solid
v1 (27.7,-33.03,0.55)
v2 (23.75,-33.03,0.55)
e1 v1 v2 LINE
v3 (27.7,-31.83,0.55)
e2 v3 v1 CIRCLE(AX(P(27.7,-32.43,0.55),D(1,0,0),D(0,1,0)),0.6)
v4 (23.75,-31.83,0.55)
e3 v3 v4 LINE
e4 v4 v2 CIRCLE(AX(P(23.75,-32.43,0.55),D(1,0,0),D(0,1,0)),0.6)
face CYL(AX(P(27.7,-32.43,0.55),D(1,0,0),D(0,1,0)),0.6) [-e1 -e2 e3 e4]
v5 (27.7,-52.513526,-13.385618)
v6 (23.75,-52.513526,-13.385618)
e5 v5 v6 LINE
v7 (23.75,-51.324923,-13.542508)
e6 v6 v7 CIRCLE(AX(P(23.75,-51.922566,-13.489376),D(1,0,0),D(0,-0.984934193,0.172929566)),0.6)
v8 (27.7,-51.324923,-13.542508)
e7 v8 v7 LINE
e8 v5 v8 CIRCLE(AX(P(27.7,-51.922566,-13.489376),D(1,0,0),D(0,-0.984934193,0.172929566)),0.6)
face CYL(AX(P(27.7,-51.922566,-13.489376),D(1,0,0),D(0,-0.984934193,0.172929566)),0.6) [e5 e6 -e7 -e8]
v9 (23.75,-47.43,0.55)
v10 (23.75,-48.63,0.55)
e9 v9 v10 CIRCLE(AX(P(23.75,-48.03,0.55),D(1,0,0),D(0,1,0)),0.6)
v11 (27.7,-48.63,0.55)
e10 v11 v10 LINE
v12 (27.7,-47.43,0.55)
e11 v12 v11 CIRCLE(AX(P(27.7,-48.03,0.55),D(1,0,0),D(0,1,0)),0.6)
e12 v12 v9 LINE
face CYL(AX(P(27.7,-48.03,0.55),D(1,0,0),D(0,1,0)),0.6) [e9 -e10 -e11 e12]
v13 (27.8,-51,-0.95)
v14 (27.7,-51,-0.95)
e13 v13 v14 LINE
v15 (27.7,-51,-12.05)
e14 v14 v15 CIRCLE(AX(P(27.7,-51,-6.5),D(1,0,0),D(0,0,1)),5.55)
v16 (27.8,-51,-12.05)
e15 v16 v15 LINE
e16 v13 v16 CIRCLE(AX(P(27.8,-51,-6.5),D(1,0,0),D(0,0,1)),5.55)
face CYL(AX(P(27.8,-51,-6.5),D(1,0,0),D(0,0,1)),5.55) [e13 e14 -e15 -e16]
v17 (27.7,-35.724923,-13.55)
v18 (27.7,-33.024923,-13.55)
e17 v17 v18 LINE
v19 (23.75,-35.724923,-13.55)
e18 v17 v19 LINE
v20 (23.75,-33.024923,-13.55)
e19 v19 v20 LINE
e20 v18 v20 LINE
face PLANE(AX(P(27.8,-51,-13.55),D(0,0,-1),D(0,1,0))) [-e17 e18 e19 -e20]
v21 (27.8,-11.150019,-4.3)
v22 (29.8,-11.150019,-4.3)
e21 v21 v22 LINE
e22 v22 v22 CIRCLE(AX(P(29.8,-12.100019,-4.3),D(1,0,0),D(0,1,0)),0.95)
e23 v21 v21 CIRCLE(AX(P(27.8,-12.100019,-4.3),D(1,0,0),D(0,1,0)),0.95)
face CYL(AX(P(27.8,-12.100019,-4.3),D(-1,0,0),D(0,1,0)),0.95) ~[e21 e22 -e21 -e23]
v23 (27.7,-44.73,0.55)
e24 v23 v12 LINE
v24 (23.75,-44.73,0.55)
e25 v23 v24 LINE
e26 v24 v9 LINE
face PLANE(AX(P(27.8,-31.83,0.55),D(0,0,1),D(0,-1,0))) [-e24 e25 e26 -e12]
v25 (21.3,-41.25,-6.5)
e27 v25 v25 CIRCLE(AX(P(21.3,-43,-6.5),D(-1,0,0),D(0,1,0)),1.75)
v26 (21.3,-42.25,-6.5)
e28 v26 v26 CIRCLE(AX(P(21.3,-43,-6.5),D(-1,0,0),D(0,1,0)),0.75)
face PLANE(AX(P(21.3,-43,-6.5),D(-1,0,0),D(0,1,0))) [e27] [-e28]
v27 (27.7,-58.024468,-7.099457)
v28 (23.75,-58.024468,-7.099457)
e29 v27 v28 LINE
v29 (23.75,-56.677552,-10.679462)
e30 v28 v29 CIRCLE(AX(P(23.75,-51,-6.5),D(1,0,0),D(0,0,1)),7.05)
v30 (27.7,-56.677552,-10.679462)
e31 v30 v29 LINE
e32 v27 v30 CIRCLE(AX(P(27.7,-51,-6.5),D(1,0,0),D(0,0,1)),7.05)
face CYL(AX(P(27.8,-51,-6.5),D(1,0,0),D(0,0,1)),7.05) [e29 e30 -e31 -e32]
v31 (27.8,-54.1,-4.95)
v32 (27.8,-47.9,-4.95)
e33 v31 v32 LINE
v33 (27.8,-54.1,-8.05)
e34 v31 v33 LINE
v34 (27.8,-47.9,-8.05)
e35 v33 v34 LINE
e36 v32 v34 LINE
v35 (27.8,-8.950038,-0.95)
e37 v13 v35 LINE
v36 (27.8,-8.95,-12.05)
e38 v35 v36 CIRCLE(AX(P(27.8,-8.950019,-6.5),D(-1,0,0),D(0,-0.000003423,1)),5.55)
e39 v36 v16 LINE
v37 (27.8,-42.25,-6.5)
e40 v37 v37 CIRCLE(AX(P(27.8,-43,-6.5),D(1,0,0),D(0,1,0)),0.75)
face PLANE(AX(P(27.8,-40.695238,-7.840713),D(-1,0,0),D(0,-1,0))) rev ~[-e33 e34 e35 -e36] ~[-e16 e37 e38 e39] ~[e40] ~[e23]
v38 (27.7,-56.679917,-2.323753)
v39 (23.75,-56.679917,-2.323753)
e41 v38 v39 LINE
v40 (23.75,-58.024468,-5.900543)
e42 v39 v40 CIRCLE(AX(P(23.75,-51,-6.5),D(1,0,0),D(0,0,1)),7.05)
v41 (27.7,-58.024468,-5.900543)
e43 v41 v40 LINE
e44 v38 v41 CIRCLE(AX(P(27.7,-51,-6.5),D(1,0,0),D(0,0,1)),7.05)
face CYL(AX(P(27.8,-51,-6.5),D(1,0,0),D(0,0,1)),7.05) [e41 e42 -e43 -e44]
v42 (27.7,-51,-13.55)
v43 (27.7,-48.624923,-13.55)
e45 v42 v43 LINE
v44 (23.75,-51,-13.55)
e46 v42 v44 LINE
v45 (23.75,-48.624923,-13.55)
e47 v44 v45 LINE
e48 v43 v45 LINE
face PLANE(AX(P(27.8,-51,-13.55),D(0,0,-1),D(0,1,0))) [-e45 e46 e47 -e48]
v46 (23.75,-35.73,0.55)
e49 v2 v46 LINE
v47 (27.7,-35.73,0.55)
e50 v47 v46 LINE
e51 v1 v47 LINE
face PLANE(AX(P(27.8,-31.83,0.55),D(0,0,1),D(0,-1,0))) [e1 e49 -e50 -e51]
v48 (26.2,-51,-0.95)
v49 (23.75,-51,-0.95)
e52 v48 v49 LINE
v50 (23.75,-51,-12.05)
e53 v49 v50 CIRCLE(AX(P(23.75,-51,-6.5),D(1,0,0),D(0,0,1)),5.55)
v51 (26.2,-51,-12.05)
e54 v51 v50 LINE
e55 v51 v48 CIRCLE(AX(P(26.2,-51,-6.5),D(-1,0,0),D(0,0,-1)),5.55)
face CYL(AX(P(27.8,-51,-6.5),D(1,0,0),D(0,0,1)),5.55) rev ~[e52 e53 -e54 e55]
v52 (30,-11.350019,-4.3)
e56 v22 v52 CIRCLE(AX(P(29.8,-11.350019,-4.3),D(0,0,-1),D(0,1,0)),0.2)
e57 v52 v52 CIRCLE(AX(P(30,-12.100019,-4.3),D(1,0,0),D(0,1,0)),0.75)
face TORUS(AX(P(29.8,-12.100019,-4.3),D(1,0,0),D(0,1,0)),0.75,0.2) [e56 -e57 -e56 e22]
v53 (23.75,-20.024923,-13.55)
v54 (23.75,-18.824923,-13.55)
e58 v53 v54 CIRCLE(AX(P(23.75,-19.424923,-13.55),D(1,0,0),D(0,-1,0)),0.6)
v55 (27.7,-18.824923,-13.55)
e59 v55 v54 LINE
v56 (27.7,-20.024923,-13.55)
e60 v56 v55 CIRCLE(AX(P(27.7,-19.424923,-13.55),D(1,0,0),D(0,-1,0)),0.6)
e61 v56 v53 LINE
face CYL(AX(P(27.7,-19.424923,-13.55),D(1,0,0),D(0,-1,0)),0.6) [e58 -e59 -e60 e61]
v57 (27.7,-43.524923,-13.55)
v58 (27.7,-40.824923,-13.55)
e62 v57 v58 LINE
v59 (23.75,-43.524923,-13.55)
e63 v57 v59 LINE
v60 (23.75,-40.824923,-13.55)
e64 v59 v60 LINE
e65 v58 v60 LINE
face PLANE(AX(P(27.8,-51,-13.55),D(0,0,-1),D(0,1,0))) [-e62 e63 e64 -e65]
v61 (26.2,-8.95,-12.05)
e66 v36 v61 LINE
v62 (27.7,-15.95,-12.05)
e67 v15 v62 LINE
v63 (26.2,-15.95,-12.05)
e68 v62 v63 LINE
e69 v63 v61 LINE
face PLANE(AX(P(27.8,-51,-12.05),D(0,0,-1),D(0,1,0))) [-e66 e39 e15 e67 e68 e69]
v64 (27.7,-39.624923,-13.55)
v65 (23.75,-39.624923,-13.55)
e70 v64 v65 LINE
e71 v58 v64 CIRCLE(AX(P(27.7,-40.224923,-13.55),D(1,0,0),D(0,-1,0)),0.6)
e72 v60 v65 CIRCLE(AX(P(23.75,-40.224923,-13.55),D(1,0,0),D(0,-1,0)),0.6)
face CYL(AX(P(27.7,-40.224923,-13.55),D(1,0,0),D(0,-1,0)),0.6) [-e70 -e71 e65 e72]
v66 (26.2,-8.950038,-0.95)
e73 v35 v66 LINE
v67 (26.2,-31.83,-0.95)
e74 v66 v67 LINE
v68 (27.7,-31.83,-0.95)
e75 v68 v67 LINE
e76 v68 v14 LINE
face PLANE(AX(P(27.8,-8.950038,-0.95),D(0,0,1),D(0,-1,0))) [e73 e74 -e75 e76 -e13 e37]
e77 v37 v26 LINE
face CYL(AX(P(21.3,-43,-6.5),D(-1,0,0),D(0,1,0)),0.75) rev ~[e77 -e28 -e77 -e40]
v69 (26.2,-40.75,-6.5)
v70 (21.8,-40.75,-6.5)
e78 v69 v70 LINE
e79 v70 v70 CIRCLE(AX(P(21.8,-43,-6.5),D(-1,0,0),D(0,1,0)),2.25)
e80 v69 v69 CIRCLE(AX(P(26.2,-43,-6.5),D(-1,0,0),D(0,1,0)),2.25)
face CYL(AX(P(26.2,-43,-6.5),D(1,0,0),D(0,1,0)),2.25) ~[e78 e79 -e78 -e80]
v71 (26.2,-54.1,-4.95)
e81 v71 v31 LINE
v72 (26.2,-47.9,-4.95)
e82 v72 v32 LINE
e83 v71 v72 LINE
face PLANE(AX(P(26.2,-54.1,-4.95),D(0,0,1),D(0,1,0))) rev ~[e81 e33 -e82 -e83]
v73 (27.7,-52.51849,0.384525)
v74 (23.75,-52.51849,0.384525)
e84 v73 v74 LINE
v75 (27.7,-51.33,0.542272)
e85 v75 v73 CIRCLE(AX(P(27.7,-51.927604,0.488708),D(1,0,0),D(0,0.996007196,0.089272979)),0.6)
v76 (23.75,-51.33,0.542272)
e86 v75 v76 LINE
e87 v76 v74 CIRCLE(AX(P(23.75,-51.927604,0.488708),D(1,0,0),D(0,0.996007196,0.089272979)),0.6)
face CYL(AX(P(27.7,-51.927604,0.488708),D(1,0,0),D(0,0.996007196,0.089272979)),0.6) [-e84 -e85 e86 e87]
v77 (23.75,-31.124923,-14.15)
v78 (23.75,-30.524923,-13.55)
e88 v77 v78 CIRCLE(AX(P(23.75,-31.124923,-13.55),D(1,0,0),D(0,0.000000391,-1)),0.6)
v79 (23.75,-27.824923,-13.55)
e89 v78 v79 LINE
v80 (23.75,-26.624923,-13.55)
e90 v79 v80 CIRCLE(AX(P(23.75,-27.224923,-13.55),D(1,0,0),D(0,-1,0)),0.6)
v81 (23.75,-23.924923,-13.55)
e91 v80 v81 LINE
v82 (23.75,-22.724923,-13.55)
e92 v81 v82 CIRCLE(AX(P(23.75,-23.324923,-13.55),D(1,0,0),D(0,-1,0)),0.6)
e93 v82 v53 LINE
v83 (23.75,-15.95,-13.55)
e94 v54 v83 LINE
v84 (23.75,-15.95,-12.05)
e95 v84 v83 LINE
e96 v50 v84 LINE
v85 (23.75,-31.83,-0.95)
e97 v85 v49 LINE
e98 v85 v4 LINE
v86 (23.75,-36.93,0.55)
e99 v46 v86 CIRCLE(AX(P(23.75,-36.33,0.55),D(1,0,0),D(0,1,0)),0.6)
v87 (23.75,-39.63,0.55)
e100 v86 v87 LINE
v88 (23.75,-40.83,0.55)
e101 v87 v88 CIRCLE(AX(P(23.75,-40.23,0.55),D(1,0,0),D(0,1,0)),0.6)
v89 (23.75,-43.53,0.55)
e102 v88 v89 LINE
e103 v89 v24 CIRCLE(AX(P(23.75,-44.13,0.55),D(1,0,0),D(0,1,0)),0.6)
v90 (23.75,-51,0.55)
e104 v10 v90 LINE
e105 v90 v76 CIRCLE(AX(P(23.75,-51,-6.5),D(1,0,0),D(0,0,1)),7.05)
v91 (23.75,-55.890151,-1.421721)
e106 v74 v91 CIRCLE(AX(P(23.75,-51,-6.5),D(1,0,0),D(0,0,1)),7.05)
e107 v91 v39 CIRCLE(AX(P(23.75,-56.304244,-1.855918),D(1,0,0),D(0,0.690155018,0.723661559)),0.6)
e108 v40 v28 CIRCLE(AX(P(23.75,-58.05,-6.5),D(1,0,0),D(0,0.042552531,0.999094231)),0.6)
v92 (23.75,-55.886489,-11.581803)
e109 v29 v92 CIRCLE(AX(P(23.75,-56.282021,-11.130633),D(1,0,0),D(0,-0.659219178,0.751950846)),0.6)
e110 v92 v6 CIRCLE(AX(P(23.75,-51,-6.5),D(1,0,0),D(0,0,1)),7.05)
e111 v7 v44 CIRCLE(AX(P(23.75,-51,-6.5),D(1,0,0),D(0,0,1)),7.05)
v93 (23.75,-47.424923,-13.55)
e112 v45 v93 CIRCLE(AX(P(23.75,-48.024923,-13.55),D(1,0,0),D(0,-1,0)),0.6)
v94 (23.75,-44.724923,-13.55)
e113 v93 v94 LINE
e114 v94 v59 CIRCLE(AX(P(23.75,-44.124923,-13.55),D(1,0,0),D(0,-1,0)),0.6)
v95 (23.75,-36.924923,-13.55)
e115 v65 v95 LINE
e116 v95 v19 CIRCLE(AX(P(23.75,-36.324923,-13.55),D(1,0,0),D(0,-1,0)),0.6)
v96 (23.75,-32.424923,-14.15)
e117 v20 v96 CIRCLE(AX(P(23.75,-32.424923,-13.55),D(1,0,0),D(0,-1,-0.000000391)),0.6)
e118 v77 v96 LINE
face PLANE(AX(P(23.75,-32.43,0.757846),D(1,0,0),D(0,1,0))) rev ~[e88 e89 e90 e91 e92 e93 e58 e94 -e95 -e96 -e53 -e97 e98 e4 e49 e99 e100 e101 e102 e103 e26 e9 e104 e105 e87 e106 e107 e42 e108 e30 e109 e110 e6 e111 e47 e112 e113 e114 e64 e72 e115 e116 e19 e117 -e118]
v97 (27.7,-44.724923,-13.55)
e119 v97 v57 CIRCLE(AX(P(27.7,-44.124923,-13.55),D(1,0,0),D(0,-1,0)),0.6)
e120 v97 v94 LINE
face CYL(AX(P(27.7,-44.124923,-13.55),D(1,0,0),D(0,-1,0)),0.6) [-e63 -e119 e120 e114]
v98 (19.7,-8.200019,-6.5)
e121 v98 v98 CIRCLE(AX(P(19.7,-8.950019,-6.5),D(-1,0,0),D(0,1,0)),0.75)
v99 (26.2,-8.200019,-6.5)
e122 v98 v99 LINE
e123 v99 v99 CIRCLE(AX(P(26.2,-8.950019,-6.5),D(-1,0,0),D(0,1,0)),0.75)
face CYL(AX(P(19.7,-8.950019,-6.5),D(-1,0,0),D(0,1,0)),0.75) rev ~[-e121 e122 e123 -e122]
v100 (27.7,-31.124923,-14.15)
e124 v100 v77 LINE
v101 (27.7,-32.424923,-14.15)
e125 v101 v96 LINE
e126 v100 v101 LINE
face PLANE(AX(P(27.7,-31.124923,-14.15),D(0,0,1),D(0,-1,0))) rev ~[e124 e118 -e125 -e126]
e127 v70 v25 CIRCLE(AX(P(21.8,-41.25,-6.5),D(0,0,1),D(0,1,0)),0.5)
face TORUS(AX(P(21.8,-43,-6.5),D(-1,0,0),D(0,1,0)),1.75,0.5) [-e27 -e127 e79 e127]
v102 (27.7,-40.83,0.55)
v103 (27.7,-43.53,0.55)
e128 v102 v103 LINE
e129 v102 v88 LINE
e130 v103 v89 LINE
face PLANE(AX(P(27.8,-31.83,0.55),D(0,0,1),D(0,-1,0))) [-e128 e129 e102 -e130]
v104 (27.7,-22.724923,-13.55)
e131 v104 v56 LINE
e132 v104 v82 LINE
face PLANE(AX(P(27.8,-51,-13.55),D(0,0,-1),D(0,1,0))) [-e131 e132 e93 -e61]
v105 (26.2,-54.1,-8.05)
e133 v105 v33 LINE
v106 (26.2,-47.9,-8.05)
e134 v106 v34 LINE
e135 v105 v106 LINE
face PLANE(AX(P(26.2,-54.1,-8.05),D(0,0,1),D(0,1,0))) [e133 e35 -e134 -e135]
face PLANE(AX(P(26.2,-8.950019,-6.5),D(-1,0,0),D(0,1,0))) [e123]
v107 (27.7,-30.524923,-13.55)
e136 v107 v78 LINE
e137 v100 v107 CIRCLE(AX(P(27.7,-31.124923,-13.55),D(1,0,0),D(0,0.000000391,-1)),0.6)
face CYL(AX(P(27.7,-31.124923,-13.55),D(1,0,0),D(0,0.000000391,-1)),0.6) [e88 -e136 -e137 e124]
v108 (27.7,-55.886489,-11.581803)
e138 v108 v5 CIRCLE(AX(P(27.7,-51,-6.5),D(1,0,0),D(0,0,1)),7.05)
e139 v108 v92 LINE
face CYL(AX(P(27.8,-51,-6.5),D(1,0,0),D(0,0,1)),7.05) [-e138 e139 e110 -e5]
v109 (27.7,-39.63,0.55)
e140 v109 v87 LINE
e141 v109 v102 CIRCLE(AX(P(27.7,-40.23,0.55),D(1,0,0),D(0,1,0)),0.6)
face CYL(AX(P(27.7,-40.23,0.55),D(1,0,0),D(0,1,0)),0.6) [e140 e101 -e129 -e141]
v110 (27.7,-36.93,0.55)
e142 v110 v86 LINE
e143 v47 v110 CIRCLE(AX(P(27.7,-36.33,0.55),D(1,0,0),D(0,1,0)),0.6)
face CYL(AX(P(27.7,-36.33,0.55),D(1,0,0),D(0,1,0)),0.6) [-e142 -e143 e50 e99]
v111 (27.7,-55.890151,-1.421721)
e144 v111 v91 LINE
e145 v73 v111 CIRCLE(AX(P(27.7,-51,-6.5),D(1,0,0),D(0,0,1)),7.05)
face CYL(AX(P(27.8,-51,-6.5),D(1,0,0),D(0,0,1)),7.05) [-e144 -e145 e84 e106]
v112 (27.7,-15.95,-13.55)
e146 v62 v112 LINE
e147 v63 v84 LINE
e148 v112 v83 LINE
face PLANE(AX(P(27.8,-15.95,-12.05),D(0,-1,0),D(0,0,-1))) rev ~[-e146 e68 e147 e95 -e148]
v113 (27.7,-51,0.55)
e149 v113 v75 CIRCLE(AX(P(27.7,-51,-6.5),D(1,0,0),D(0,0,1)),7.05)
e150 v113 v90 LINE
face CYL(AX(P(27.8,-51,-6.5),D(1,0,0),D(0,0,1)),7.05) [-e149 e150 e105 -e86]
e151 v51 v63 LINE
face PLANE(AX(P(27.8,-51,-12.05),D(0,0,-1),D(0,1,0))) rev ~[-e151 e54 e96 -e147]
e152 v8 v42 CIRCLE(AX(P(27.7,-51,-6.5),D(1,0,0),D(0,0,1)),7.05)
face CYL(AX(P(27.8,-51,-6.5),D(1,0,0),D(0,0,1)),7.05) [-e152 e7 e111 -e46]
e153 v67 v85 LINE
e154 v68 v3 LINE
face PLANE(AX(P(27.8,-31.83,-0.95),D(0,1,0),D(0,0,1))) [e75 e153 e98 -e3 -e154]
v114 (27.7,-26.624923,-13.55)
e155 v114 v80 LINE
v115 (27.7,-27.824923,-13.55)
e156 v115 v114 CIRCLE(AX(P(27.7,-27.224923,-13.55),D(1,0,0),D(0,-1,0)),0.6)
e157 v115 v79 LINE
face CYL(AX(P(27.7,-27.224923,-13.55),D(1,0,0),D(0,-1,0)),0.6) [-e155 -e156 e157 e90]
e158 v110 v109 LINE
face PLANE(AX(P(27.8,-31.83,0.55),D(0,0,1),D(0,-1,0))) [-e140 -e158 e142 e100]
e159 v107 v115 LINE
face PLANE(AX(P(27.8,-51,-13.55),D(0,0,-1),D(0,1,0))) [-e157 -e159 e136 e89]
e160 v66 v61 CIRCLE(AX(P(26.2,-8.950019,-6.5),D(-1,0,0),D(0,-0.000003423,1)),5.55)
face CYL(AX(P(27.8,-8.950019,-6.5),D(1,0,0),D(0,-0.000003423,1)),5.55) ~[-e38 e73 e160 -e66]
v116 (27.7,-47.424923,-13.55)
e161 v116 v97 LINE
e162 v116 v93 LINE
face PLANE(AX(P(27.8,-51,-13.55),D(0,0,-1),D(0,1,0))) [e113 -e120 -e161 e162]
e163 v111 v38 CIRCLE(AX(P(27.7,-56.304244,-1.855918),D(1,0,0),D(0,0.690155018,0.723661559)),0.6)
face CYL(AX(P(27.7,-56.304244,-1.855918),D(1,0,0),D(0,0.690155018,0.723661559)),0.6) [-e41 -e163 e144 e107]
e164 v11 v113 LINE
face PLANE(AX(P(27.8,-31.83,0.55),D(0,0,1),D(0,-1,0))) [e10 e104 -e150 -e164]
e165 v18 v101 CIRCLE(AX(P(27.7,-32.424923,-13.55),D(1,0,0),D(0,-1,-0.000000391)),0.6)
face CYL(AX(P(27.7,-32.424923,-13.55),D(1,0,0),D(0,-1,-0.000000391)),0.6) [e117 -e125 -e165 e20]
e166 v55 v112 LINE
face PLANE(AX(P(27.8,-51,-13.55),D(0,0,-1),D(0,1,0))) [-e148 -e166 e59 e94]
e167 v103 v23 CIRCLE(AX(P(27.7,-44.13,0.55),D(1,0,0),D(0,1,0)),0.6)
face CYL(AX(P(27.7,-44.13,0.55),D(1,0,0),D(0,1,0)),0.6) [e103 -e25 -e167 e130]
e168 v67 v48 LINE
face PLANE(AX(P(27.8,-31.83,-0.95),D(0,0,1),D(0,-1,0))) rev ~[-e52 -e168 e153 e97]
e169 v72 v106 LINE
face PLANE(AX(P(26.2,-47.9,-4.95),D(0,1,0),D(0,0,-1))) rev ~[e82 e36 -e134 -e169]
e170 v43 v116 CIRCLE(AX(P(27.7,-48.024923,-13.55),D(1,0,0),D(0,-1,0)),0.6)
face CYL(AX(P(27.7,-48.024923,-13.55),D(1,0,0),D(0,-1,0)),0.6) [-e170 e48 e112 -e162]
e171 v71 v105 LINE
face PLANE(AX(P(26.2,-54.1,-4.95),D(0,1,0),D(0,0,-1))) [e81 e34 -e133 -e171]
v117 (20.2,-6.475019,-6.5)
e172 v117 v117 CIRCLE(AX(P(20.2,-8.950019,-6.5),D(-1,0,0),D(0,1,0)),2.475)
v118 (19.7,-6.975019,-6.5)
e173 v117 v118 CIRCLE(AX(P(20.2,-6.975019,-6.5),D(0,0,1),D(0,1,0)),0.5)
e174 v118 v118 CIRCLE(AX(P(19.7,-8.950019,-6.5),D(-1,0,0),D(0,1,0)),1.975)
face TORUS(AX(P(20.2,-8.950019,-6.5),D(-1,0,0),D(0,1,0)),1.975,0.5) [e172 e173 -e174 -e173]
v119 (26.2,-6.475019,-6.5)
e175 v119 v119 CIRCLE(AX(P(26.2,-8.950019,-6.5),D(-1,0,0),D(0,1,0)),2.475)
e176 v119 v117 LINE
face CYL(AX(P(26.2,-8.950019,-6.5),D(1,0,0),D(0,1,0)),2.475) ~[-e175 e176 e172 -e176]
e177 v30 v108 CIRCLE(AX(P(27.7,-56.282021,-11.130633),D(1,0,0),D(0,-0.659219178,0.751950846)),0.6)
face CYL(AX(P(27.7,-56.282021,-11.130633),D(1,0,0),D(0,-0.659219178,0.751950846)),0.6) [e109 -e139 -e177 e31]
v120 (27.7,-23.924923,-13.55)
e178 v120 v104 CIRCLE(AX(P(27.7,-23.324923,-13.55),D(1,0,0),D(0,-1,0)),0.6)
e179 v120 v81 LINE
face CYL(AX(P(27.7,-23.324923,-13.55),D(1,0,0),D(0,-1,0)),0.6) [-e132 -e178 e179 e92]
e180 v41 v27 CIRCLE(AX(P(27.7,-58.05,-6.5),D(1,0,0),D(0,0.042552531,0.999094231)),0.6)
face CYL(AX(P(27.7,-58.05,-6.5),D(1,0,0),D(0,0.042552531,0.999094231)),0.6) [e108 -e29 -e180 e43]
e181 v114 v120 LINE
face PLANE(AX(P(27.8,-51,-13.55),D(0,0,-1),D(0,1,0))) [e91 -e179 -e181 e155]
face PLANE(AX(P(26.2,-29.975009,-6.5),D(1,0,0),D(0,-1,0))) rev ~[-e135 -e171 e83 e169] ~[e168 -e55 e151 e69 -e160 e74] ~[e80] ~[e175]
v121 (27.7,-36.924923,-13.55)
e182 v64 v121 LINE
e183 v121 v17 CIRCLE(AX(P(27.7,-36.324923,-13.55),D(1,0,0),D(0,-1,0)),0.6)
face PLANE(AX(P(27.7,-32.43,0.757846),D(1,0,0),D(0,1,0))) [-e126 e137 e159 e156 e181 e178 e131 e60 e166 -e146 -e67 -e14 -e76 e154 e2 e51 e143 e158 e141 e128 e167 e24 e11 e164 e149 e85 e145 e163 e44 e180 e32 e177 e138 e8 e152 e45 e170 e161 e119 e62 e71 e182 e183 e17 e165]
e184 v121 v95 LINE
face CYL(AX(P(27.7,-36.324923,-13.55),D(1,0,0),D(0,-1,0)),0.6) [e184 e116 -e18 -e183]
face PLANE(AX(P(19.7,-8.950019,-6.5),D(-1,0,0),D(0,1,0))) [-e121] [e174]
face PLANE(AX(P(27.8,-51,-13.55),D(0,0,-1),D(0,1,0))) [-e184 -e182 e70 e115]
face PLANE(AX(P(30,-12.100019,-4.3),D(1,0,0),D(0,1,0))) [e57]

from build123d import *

# Parameters (mm, degrees)
PAD098_DEPTH            = 1.6
PAD099_DEPTH            = 4.05
POCKET093_DEPTH         = 0.1
SKETCH189_R             = 0.75
SKETCH189_W             = 6
SKETCH189_H             = 3
POCKET094_DEPTH         = 1.6
PAD100_DEPTH            = 3.95
SKETCH191_R             = 2.25
PAD101_DEPTH            = 4.9
SKETCH192_R             = 0.75
POCKET095_DEPTH         = 4.9
SKETCH193_R             = 2.475
PAD102_DEPTH            = 6.5
SKETCH194_R             = 0.75
POCKET096_DEPTH         = 6.5
FILLET041_R             = 0.5
SKETCH195_R             = 0.95
PAD103_DEPTH            = 2.2
FILLET042_R             = 0.2
SKETCH355_W             = 6.2
SKETCH355_H             = 3.1
POCKET171_DEPTH         = 5
BODY015_ROLL_ANGLE      = -90
BODY015_PLACEMENT_ANGLE = 90


with BuildPart() as part:
    # Sketch187 → Pad098 (new body)
    with BuildSketch(Plane.XY):
        with BuildLine():
            Line((0, 5.55), (42.05, 5.55))
            ThreePointArc((42.049962, -5.55), (47.599981, -1.9e-05), (42.05, 5.55))
            Line((42.049962, -5.55), (0, -5.55))
            ThreePointArc((0, 5.55), (-5.55, 0), (0, -5.55))
        make_face()
    extrude(amount=PAD098_DEPTH)

    # Sketch188 (on Face5 of Pad098) → Pad099 (join)
    with BuildSketch(Plane(origin=(0, 0, 0), x_dir=(1, 0, 0), z_dir=(0, 0, -1))):
        with BuildLine():
            Line((19.17, 5.55), (0, 5.55))
            ThreePointArc((0, 5.55), (-5.55, 0), (0, -5.55))
            Line((0, -5.55), (35.05, -5.55))
            Line((35.05, -5.55), (35.05, -7.05))
            Line((0, -7.05), (35.05, -7.05))
            ThreePointArc((0, 7.05), (-7.05, 0), (0, -7.05))
            Line((19.17, 7.05), (0, 7.05))
            Line((19.17, 5.55), (19.17, 7.05))
        make_face()
    extrude(amount=-PAD099_DEPTH)

    # Sketch188 (on Face5 of Pad098) → Pocket093 (cut)
    with BuildSketch(Plane(origin=(0, 0, 0), x_dir=(1, 0, 0), z_dir=(0, 0, -1))):
        with BuildLine():
            Line((19.17, 5.55), (0, 5.55))
            ThreePointArc((0, 5.55), (-5.55, 0), (0, -5.55))
            Line((0, -5.55), (35.05, -5.55))
            Line((35.05, -5.55), (35.05, -7.05))
            Line((0, -7.05), (35.05, -7.05))
            ThreePointArc((0, 7.05), (-7.05, 0), (0, -7.05))
            Line((19.17, 7.05), (0, 7.05))
            Line((19.17, 5.55), (19.17, 7.05))
        make_face()
    extrude(amount=-POCKET093_DEPTH, mode=Mode.SUBTRACT)

    # Sketch189 (on Face1 of Pocket093) → Pocket094 (cut)
    with BuildSketch(Plane(origin=(0, 0, 0), x_dir=(1, 0, 0), z_dir=(0, 0, -1))):
        with Locations((8, 0)):
            Circle(SKETCH189_R)
        Rectangle(SKETCH189_W, SKETCH189_H)
    extrude(amount=-POCKET094_DEPTH, mode=Mode.SUBTRACT)

    # Sketch190 (on Face11 of Pocket094) → Pad100 (join)
    with BuildSketch(Plane(origin=(0, 0, 0.1), x_dir=(1, 0, 0), z_dir=(0, 0, -1))):
        with BuildLine():
            ThreePointArc((19.17, 7.05), (18.57, 7.65), (17.97, 7.05))
            Line((19.17, 7.05), (17.97, 7.05))
        make_face()
        with BuildLine():
            ThreePointArc((15.27, 7.05), (14.67, 7.65), (14.07, 7.05))
            Line((15.27, 7.05), (14.07, 7.05))
        make_face()
        with BuildLine():
            ThreePointArc((11.37, 7.05), (10.77, 7.65), (10.17, 7.05))
            Line((11.37, 7.05), (10.17, 7.05))
        make_face()
        with BuildLine():
            ThreePointArc((7.47, 7.05), (6.87, 7.65), (6.27, 7.05))
            Line((7.47, 7.05), (6.27, 7.05))
        make_face()
        with BuildLine():
            ThreePointArc((3.57, 7.05), (2.97, 7.65), (2.37, 7.05))
            Line((3.57, 7.05), (2.37, 7.05))
        make_face()
        with BuildLine():
            ThreePointArc((-0.33, 7.042272), (-1.006549, 7.583492), (-1.51849, 6.884525))
            Line((-0.33, 7.042272), (-1.51849, 6.884525))
        make_face()
        with BuildLine():
            ThreePointArc((-4.890151, 5.078279), (-5.755669, 5.039323), (-5.679917, 4.176247))
            Line((-4.890151, 5.078279), (-5.679917, 4.176247))
        make_face()
        with BuildLine():
            ThreePointArc((-7.024468, 0.599457), (-7.65, 0), (-7.024468, -0.599457))
            Line((-7.024468, 0.599457), (-7.024468, -0.599457))
        make_face()
        with BuildLine():
            ThreePointArc((-5.677552, -4.179462), (-5.733191, -5.026164), (-4.886489, -5.081803))
            Line((-4.886489, -5.081803), (-5.677552, -4.179462))
        make_face()
        with BuildLine():
            ThreePointArc((-1.513526, -6.885618), (-1.001082, -7.584216), (-0.324923, -7.042508))
            Line((-0.324923, -7.042508), (-1.513526, -6.885618))
        make_face()
        with BuildLine():
            ThreePointArc((2.375077, -7.05), (2.975077, -7.65), (3.575077, -7.05))
            Line((3.575077, -7.05), (2.375077, -7.05))
        make_face()
        with BuildLine():
            ThreePointArc((6.275077, -7.05), (6.875077, -7.65), (7.475077, -7.05))
            Line((7.475077, -7.05), (6.275077, -7.05))
        make_face()
        with BuildLine():
            ThreePointArc((10.175077, -7.05), (10.775077, -7.65), (11.375077, -7.05))
            Line((11.375077, -7.05), (10.175077, -7.05))
        make_face()
        with BuildLine():
            ThreePointArc((14.075077, -7.05), (14.675077, -7.65), (15.275077, -7.05))
            Line((15.275077, -7.05), (14.075077, -7.05))
        make_face()
        with BuildLine():
            ThreePointArc((23.175077, -7.05), (23.775077, -7.65), (24.375077, -7.05))
            Line((24.375077, -7.05), (23.175077, -7.05))
        make_face()
        with BuildLine():
            ThreePointArc((27.075077, -7.05), (27.675077, -7.65), (28.275077, -7.05))
            Line((28.275077, -7.05), (27.075077, -7.05))
        make_face()
        with BuildLine():
            ThreePointArc((30.975077, -7.05), (31.575077, -7.65), (32.175077, -7.05))
            Line((32.175077, -7.05), (30.975077, -7.05))
        make_face()
        with BuildLine():
            ThreePointArc((17.975077, -7.05), (18.150813, -7.474264), (18.575077, -7.65))
            Line((19.875077, -7.65), (18.575077, -7.65))
            ThreePointArc((19.875077, -7.65), (20.299341, -7.474264), (20.475077, -7.05))
            Line((20.475077, -7.05), (17.975077, -7.05))
        make_face()
    extrude(amount=-PAD100_DEPTH)

    # Sketch191 (on Face12 of Pad100) → Pad101 (join)
    with BuildSketch(Plane.XY.offset(1.6)):
        with Locations((8, 0)):
            Circle(SKETCH191_R)
    extrude(amount=PAD101_DEPTH)

    # Sketch192 (on Face61 of Pad101) → Pocket095 (cut)
    with BuildSketch(Plane.XY.offset(6.5)):
        with Locations((8, 0)):
            Circle(SKETCH192_R)
    extrude(amount=-POCKET095_DEPTH, mode=Mode.SUBTRACT)

    # Sketch193 (on Face12 of Pocket095) → Pad102 (join)
    with BuildSketch(Plane.XY.offset(1.6)):
        with Locations((42.049981, 0)):
            Circle(SKETCH193_R)
    extrude(amount=PAD102_DEPTH)

    # Sketch194 (on Face62 of Pad102) → Pocket096 (cut)
    with BuildSketch(Plane.XY.offset(8.1)):
        with Locations((42.049981, 0)):
            Circle(SKETCH194_R)
    extrude(amount=-POCKET096_DEPTH, mode=Mode.SUBTRACT)

    # Fillet041
    fillet041_edges = [part.edges().sort_by_distance(p)[0] for p in [
        (39.574981, 0, 8.1),
        (5.75, 0, 6.5),
    ]]
    fillet(fillet041_edges, radius=FILLET041_R)

    # Sketch195 (on Face5 of Fillet041) → Pad103 (join)
    with BuildSketch(Plane(origin=(0, 0, 0), x_dir=(1, 0, 0), z_dir=(0, 0, -1))):
        with Locations((38.899981, 2.2)):
            Circle(SKETCH195_R)
    extrude(amount=PAD103_DEPTH)

    # Fillet042
    fillet042_edges = [part.edges().sort_by_distance(p)[0] for p in [
        (37.949981, -2.2, -2.2),
    ]]
    fillet(fillet042_edges, radius=FILLET042_R)

    # Sketch355 (on Face16 of Fillet042) → Pocket171 (cut)
    with BuildSketch(Plane.XY.offset(1.6)):
        Rectangle(SKETCH355_W, SKETCH355_H)
    extrude(amount=-POCKET171_DEPTH, mode=Mode.SUBTRACT)


with BuildPart() as part_1:
    # Body015 roll: moved
    add(part.part.rotate(Axis((0, 0, 0), (1, 0, 0)), BODY015_ROLL_ANGLE))


with BuildPart() as part_2:
    # Body015 placement: moved
    add(part_1.part.moved(Location((27.8, -51, -6.5))).rotate(Axis((27.8, -51, -6.5), (0, 0, 1)), BODY015_PLACEMENT_ANGLE))


solid = part_2.part
